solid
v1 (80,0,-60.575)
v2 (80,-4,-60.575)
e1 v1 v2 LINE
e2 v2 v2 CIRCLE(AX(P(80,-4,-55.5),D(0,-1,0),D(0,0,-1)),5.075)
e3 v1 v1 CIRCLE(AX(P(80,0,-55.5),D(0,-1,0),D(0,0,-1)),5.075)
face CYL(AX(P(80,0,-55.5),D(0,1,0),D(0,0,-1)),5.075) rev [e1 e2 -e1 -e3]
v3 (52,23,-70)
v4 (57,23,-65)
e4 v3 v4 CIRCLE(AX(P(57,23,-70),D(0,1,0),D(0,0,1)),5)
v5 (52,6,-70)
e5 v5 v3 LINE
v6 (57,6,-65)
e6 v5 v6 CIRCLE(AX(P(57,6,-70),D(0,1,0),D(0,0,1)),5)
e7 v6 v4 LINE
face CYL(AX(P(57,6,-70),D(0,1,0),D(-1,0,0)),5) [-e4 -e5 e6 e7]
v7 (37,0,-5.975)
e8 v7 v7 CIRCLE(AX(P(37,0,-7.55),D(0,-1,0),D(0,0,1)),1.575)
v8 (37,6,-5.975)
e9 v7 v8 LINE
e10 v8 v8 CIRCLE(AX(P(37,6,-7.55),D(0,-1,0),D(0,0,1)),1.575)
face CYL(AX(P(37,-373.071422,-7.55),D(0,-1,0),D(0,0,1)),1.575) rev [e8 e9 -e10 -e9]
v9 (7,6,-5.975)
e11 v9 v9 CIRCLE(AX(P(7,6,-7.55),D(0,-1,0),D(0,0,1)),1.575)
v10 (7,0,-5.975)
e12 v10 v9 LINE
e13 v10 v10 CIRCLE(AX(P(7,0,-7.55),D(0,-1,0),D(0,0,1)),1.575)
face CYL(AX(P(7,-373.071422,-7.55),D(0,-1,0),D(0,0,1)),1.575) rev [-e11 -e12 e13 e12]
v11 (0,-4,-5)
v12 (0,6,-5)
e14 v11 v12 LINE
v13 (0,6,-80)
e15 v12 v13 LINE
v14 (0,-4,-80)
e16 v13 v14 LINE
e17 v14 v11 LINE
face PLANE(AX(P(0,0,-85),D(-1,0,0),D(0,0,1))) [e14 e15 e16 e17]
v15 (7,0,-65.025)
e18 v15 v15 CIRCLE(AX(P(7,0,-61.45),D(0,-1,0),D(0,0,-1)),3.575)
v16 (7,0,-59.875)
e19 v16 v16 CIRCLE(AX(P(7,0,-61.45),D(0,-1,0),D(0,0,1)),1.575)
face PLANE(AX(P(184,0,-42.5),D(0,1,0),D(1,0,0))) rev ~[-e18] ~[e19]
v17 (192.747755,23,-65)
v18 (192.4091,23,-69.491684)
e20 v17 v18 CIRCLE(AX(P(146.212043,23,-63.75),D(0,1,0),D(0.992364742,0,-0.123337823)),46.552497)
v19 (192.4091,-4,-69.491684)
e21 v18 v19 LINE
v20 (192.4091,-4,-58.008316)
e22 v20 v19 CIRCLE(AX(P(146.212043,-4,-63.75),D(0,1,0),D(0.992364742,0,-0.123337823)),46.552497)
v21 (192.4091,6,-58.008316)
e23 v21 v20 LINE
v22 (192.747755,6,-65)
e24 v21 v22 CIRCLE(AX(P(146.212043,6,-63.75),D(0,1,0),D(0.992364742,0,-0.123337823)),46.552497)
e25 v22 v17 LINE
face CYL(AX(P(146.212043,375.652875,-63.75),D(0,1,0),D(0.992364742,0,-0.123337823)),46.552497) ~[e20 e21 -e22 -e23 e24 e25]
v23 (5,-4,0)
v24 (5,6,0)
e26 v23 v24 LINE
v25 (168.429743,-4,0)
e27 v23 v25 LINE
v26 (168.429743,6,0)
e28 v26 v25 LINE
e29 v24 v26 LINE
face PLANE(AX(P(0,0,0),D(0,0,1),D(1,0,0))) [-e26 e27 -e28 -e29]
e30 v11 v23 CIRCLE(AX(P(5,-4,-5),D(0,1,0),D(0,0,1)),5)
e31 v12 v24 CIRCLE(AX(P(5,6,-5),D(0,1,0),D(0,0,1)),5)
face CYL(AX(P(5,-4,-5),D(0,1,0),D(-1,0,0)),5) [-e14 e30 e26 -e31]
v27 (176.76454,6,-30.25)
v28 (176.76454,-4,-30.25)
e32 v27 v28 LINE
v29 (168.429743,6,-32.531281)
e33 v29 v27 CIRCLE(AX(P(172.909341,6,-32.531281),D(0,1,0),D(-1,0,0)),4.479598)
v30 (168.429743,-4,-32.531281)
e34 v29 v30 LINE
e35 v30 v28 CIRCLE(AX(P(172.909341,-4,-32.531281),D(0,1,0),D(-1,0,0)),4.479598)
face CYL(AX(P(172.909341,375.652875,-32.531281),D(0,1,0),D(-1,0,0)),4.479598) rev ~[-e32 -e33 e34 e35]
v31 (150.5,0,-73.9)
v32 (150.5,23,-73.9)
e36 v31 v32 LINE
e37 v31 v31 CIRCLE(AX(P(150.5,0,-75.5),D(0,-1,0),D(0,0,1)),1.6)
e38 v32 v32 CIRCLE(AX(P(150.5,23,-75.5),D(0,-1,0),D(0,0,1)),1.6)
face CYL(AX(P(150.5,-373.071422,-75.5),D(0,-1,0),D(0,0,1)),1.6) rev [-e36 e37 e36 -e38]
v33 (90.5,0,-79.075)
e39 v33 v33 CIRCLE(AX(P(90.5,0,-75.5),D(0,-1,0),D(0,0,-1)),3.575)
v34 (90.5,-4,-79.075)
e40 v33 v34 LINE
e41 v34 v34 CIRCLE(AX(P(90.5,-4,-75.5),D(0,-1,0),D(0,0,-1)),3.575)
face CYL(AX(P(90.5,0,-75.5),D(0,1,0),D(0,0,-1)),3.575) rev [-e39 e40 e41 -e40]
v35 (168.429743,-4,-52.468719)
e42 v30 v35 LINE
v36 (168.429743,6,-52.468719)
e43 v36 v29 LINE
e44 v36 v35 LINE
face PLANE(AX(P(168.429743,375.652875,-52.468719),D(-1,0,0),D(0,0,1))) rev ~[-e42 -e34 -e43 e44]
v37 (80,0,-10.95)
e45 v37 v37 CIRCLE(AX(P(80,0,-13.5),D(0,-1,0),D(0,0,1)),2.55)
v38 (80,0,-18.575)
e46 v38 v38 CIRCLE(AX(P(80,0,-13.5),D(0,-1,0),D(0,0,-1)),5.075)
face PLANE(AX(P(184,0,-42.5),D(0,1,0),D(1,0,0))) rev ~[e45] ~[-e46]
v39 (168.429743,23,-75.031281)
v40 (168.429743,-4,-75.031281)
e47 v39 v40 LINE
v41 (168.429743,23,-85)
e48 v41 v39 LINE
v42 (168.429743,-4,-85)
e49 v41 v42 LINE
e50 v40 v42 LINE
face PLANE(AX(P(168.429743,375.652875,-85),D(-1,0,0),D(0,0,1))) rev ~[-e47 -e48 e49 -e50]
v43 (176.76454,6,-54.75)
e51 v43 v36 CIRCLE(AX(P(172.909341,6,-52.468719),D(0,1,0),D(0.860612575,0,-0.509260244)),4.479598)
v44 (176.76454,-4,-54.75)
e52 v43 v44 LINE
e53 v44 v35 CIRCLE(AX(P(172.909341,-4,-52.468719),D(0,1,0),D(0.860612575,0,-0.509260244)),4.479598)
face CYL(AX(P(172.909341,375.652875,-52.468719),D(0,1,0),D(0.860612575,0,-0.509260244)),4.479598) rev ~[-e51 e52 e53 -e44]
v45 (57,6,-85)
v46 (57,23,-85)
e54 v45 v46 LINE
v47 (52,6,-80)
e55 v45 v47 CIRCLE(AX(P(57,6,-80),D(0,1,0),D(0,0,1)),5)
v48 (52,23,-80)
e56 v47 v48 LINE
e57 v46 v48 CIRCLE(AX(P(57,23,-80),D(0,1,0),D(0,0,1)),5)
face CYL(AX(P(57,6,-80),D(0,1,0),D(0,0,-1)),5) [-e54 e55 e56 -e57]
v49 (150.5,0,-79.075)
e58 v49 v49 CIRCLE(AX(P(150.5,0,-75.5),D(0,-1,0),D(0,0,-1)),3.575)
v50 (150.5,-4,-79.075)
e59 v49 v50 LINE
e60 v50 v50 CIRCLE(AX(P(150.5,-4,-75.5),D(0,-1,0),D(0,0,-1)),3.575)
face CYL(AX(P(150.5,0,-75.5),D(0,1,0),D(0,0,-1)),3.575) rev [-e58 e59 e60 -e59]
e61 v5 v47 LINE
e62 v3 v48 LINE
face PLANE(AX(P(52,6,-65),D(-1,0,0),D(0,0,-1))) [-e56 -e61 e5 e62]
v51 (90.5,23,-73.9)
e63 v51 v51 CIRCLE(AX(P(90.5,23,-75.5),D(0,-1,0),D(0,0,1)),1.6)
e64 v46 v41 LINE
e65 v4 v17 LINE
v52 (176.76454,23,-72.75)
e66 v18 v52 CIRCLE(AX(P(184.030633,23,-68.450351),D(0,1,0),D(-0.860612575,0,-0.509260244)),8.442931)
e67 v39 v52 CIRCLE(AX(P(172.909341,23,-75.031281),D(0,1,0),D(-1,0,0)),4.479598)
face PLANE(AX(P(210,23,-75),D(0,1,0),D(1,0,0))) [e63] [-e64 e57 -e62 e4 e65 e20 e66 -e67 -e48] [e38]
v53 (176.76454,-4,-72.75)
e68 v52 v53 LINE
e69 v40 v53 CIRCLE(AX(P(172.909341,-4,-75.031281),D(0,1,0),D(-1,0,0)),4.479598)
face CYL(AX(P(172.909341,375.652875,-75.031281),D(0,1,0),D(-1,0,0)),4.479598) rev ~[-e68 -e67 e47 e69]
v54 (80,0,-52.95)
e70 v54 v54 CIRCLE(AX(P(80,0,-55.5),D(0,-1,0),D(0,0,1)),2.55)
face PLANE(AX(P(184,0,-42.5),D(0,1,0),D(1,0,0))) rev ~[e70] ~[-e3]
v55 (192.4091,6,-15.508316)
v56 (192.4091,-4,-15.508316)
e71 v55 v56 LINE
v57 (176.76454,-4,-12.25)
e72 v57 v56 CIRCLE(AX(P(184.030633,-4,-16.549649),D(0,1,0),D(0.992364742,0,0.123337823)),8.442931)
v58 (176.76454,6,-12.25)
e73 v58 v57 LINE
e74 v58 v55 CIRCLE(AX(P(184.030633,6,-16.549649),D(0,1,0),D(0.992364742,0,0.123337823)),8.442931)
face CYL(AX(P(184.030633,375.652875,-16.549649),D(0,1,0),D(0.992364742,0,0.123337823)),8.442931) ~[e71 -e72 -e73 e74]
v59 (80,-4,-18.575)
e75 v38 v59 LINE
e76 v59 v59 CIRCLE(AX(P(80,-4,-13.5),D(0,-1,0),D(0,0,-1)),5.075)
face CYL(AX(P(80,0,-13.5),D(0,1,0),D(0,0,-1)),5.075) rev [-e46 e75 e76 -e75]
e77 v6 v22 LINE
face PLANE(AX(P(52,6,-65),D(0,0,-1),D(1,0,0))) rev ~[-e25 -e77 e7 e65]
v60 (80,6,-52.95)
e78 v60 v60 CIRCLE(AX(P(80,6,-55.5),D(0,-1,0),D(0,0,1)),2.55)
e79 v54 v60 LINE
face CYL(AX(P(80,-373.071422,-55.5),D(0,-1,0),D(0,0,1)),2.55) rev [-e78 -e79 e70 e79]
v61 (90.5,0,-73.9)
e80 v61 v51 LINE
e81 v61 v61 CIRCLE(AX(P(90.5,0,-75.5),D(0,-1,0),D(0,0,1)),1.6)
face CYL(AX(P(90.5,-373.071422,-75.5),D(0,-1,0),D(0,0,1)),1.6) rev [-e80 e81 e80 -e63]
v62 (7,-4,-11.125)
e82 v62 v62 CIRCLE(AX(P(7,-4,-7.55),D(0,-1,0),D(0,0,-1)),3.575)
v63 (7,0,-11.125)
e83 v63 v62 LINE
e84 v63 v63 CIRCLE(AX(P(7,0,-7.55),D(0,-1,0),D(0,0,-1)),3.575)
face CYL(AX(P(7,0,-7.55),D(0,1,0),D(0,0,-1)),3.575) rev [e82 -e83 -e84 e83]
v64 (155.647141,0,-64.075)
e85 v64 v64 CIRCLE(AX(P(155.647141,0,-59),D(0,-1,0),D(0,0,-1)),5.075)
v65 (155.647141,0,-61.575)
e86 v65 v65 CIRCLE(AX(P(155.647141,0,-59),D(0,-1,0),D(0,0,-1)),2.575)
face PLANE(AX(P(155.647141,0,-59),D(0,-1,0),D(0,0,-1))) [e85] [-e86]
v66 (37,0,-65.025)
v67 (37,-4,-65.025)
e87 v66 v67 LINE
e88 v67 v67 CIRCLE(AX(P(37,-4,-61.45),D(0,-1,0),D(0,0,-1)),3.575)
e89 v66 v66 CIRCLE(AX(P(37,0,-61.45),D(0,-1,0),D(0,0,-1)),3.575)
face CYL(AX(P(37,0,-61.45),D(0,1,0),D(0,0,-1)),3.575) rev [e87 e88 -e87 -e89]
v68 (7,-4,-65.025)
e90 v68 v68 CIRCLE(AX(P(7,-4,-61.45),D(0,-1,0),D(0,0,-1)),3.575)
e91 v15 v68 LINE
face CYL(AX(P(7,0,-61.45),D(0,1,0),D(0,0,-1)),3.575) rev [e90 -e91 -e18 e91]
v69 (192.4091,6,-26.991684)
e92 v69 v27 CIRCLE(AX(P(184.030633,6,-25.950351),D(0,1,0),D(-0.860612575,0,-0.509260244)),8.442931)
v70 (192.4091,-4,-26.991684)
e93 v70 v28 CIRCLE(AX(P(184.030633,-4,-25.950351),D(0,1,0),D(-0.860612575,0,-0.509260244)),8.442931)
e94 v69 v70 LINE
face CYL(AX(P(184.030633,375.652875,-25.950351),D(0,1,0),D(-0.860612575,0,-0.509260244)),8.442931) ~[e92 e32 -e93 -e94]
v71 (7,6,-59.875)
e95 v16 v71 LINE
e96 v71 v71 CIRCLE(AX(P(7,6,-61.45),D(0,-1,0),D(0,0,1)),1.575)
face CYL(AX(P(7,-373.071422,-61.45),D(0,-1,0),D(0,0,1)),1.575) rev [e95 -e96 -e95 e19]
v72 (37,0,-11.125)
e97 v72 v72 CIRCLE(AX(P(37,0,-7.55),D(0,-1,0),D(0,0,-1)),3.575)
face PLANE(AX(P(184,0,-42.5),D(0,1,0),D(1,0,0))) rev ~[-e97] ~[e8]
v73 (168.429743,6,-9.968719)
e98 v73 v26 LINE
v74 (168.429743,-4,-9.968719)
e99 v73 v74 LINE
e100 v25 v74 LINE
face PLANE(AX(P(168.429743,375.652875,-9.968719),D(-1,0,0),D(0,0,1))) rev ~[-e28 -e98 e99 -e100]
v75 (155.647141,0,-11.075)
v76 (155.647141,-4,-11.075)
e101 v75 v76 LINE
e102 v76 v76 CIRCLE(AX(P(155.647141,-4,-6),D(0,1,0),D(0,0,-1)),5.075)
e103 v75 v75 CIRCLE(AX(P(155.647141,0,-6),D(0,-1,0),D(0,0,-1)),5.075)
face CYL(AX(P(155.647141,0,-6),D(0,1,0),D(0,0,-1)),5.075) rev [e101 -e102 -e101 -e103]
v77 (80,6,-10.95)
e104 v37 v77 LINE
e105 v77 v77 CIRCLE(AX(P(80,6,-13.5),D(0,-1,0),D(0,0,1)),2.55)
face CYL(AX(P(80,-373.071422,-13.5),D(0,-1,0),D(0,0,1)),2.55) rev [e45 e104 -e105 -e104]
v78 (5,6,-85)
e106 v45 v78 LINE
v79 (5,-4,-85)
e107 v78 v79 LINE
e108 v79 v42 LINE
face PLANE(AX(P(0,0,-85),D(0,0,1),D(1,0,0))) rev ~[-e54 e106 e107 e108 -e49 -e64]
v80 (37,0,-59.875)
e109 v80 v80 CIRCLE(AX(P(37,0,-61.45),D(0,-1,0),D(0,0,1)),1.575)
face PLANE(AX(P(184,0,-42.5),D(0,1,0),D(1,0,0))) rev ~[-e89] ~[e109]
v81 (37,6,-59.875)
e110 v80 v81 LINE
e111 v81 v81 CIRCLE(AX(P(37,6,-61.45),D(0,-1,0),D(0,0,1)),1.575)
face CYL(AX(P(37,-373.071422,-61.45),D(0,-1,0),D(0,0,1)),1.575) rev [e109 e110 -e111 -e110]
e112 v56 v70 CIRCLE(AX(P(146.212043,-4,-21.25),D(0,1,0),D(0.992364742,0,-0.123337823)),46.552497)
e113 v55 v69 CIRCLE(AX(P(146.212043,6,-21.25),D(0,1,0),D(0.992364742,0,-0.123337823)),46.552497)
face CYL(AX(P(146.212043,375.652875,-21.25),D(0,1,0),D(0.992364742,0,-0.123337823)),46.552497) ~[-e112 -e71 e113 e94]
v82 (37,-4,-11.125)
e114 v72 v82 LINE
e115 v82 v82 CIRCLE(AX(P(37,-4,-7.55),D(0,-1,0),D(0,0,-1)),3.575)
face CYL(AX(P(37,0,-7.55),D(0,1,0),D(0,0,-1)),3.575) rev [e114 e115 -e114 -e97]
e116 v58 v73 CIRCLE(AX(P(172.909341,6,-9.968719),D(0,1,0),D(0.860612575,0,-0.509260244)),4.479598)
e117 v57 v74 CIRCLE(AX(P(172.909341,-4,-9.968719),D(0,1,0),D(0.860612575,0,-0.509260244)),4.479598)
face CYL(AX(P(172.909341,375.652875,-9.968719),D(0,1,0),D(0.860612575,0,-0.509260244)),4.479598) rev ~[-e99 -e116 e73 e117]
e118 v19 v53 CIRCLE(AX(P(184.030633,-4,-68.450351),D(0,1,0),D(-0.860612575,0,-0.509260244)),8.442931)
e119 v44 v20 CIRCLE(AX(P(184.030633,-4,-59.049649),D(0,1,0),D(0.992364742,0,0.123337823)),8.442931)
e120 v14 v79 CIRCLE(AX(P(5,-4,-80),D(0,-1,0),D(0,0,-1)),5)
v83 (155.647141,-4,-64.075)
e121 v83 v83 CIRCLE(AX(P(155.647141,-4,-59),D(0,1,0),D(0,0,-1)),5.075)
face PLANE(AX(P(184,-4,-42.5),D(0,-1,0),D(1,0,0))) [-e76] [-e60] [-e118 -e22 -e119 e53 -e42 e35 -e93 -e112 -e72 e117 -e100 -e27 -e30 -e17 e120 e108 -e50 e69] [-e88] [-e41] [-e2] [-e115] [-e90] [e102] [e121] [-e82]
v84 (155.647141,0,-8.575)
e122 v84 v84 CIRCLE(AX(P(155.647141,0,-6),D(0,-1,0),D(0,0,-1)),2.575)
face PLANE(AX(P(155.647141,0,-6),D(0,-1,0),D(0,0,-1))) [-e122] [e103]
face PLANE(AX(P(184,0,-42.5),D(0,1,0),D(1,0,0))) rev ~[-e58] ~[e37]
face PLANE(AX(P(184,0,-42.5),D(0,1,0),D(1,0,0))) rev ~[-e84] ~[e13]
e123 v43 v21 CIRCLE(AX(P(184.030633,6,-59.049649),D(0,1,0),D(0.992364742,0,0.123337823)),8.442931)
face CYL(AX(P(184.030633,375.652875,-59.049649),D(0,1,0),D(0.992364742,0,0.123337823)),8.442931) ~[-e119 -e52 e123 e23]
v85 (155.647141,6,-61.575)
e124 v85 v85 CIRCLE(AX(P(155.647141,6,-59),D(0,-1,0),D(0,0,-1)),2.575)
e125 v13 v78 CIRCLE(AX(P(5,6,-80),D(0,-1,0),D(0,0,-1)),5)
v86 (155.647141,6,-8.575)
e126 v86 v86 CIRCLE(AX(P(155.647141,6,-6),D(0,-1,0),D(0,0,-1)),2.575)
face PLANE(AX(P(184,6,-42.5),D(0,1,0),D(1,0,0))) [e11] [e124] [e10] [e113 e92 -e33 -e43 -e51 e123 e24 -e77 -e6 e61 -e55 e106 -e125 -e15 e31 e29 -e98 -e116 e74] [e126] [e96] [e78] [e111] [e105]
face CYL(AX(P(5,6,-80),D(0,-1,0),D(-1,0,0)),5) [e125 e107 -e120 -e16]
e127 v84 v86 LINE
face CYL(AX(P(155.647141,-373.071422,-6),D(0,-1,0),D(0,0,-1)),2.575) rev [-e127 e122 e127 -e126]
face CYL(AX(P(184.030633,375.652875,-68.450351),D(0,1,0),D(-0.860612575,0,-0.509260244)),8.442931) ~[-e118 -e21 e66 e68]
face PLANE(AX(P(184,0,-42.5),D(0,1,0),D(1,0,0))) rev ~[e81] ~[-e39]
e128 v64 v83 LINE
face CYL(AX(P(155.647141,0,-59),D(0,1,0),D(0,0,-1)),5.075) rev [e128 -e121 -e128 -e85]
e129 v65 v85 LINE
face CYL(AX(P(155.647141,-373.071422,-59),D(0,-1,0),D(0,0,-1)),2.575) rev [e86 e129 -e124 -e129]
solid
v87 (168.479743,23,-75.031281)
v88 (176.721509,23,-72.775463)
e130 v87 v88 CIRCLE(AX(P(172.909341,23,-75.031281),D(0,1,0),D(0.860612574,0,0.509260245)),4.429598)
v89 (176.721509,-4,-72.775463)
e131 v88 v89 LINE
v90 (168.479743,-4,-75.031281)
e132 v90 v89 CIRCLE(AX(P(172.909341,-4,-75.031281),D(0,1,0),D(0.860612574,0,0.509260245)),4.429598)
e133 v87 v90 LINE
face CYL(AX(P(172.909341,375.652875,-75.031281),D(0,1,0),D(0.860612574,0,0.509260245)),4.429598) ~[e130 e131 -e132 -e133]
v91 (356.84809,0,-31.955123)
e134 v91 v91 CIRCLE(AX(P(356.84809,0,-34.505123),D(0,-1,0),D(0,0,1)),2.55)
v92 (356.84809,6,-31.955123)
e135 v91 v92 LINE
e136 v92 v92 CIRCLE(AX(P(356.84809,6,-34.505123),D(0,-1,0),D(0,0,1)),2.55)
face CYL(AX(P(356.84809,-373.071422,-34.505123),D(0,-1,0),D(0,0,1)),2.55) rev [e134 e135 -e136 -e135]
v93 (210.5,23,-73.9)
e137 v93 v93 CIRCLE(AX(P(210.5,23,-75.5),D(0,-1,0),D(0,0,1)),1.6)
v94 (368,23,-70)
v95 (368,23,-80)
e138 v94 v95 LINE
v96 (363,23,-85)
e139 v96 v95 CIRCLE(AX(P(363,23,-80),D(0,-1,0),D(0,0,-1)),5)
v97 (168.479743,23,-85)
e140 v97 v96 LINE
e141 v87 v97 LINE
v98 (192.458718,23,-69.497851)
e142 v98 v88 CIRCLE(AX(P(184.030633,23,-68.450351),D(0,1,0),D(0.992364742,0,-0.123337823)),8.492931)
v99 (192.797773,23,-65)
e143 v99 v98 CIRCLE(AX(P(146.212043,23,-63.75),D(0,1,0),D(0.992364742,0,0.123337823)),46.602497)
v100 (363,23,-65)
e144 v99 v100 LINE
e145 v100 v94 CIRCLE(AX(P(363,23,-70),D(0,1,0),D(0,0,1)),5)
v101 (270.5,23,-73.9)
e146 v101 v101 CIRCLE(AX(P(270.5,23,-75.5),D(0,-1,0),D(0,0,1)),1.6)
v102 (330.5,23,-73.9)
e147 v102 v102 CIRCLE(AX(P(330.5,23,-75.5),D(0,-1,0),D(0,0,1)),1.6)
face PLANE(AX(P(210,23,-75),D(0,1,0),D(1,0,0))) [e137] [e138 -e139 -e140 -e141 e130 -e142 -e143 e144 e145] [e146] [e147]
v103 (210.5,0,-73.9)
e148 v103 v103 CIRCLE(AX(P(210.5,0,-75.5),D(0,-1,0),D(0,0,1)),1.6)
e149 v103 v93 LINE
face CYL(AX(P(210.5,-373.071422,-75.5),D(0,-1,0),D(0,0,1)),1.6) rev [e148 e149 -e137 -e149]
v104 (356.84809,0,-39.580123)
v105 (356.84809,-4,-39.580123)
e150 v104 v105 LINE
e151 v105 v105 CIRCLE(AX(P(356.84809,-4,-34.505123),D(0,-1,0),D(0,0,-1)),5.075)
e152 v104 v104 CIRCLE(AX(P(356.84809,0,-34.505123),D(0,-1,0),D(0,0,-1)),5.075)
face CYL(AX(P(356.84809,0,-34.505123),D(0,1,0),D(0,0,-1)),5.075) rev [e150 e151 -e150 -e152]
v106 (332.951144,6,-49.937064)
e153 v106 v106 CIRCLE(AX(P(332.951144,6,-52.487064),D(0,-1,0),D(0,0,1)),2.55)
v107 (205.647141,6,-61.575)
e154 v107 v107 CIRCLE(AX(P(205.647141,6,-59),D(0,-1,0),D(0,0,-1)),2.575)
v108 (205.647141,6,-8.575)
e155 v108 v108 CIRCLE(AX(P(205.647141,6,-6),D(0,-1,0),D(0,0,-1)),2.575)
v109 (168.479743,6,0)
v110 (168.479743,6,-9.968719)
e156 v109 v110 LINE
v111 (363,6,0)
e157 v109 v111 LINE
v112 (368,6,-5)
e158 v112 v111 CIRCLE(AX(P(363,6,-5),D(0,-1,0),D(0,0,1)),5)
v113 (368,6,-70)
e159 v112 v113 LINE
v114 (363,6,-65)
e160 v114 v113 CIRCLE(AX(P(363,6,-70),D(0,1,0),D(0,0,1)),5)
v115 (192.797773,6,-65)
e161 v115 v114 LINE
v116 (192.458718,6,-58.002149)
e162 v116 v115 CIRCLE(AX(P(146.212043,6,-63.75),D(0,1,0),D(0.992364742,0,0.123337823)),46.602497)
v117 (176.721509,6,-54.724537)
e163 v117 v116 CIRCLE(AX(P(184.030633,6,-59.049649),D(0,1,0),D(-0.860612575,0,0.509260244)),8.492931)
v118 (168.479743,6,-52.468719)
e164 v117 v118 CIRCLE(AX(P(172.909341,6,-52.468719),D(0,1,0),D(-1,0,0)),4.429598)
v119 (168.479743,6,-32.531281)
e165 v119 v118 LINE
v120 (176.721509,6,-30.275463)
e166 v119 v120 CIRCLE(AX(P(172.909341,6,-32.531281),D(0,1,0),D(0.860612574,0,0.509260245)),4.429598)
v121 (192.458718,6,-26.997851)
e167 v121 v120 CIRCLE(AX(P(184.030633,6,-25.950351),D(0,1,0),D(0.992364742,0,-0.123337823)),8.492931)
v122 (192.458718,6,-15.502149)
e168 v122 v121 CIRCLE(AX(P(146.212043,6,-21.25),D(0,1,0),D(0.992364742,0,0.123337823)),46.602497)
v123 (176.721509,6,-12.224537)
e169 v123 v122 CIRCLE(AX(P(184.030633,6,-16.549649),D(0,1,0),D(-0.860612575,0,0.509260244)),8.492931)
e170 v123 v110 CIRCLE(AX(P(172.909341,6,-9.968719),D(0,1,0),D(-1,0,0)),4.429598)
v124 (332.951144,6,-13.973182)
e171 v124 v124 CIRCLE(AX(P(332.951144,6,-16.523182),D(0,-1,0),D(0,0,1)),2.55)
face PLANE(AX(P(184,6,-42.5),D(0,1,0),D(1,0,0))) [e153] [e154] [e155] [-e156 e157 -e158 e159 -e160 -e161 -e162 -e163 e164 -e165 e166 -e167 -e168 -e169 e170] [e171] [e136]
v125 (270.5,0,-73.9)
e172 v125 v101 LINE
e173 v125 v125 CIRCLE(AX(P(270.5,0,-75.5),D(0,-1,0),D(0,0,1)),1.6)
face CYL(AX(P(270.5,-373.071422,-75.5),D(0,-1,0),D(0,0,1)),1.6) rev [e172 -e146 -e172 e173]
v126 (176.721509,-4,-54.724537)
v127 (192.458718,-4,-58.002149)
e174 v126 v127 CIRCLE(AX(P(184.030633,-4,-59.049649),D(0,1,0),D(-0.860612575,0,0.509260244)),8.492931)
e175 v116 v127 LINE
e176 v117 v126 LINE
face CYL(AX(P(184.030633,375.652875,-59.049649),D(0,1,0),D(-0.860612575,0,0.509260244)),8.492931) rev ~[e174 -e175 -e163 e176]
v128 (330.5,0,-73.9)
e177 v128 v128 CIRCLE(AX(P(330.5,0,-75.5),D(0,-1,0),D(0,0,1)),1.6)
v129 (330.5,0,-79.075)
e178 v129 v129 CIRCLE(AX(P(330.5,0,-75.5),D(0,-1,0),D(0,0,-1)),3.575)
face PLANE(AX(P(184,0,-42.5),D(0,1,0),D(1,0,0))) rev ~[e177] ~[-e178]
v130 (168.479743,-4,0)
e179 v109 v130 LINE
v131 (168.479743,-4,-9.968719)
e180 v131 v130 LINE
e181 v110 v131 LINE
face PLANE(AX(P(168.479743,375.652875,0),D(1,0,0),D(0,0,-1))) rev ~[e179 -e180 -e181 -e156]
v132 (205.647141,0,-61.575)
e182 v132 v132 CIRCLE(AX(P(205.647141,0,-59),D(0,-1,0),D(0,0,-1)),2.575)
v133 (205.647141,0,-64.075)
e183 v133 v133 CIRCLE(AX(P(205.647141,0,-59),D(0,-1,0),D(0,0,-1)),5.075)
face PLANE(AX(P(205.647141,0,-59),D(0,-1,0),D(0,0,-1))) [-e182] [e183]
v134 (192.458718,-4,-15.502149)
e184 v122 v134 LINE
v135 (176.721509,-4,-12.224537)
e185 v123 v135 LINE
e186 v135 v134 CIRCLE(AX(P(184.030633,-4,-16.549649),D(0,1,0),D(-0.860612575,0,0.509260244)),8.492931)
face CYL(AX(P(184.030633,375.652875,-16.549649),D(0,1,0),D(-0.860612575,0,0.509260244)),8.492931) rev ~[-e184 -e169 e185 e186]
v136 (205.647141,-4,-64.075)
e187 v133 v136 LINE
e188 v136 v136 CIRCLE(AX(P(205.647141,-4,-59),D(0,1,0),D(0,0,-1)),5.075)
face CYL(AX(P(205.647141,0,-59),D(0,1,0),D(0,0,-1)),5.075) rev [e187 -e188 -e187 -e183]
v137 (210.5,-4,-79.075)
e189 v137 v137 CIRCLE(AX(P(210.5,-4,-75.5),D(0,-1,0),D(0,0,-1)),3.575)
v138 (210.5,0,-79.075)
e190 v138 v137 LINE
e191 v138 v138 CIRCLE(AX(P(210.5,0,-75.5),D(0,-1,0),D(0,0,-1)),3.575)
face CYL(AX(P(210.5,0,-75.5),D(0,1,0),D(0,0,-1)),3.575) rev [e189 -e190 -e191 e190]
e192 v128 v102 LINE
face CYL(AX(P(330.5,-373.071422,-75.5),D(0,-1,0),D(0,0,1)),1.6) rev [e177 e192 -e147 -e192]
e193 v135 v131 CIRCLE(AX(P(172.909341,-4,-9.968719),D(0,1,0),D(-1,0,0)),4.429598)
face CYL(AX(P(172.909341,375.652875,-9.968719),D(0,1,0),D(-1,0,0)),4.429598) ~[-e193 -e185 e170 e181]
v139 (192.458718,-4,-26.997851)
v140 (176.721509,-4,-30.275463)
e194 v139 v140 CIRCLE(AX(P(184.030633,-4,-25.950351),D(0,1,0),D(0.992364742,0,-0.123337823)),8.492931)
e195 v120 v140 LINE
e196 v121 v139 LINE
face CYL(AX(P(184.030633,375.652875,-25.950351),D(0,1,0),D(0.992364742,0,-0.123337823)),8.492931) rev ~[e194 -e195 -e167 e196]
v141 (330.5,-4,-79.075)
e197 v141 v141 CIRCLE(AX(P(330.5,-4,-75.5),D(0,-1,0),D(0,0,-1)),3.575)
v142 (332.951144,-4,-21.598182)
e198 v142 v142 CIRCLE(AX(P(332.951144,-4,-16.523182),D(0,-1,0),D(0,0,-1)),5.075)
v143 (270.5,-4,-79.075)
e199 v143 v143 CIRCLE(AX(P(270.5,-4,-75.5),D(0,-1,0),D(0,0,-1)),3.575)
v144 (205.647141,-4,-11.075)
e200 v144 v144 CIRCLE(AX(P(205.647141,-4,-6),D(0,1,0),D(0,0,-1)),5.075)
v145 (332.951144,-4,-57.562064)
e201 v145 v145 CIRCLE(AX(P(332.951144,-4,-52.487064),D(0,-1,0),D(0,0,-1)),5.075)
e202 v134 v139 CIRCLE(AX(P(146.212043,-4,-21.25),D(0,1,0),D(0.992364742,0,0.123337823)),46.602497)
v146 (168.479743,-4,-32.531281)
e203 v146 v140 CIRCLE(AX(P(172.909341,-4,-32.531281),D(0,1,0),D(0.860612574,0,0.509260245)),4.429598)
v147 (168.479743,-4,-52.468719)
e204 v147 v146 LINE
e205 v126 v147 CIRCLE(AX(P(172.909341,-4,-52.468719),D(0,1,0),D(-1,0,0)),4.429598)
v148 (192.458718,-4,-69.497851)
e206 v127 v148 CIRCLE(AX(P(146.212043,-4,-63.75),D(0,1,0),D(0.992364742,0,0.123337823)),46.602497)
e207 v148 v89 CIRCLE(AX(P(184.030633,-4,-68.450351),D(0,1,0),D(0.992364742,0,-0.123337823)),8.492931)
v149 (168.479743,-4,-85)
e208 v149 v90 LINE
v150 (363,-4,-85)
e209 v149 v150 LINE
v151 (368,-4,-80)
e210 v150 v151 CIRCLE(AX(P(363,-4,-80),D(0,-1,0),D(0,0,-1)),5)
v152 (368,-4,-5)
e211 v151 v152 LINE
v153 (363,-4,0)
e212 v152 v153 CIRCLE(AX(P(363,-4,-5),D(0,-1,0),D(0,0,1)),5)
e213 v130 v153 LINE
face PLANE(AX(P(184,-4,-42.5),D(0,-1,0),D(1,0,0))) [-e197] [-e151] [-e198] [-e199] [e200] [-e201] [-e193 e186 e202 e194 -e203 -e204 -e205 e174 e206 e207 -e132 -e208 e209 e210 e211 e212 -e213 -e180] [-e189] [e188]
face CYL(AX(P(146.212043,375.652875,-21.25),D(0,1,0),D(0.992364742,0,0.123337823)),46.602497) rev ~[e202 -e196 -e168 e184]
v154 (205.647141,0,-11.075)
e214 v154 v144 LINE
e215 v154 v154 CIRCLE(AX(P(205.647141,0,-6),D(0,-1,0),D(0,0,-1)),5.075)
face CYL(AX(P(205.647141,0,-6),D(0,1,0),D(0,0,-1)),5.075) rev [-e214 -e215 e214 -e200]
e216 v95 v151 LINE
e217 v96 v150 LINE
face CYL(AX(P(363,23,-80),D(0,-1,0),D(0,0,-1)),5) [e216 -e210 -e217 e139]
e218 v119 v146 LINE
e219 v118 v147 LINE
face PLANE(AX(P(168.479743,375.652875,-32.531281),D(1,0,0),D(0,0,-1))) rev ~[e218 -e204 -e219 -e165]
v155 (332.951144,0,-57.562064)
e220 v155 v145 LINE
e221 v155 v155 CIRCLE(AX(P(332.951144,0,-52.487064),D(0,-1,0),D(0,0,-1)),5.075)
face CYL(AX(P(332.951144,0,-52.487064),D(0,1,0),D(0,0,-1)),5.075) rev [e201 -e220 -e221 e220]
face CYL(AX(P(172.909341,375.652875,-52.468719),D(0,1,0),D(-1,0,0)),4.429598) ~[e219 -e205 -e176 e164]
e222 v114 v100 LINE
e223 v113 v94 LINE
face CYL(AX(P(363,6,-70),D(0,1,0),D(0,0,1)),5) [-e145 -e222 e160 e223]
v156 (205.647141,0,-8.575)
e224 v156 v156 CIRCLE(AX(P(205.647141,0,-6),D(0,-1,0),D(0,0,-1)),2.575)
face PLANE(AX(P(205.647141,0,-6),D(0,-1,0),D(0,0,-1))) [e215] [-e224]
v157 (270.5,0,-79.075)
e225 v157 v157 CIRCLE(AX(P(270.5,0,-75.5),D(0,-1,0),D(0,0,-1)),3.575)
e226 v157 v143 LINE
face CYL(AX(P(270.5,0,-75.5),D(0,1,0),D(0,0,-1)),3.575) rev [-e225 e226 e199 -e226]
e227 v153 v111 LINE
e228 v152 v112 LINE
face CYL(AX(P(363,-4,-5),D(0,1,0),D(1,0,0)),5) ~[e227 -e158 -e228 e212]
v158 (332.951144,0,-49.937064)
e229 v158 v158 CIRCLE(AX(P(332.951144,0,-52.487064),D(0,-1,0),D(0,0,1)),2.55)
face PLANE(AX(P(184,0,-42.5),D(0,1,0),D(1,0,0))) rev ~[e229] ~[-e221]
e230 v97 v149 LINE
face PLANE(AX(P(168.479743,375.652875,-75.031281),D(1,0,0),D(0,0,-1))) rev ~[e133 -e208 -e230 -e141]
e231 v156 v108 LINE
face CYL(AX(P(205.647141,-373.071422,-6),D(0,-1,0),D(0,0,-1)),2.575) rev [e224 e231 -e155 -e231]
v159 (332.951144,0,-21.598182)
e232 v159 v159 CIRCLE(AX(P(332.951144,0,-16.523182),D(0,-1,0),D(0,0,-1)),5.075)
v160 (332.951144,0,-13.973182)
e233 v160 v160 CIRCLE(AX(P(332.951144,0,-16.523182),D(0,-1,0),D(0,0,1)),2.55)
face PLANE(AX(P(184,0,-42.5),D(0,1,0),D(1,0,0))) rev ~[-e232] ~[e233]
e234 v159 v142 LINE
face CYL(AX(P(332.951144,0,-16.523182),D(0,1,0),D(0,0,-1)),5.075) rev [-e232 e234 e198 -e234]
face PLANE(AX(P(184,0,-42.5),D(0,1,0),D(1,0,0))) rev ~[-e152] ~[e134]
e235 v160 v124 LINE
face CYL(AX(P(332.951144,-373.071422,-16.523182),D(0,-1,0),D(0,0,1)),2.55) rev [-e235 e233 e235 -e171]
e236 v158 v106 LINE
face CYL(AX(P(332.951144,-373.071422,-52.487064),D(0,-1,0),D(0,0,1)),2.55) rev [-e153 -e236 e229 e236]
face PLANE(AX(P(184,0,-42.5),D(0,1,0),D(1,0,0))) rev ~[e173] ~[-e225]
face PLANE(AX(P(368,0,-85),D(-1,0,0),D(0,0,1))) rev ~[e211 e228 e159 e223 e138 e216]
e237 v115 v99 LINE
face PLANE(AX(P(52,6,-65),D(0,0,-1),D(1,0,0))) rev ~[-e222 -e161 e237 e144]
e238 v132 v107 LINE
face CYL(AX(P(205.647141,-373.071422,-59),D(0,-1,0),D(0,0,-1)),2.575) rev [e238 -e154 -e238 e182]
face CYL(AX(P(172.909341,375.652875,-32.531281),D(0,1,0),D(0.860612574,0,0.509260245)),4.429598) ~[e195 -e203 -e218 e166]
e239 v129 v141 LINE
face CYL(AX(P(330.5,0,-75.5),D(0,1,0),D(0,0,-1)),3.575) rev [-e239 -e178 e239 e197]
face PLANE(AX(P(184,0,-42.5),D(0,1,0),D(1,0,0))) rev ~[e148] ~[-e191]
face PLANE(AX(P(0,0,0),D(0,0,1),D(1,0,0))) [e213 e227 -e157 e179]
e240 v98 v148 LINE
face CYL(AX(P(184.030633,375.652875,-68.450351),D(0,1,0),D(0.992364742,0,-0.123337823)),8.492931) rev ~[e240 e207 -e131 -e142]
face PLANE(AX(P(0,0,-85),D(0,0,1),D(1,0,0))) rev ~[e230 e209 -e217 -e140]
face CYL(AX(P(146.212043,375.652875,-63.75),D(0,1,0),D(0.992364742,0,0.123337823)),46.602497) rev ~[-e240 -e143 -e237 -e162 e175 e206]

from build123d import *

# Parameters (mm, degrees)
SKETCH1_W                                    = 368
SKETCH1_H                                    = 85
BOSS_EXTRUDE1_DEPTH                          = 6
SKETCH2_W                                    = 316
SKETCH2_H                                    = 20
BOSS_EXTRUDE3_DEPTH                          = 17
CUT_EXTRUDE1_DEPTH                           = 379.071421824
CUT_EXTRUDE1_DEPTH_BACK                      = 379.071421824
SKETCH3_R                                    = 1.575
SKETCH3_R_2                                  = 2.55
SKETCH3_R_3                                  = 1.6
SKETCH4_W                                    = 368
SKETCH4_H                                    = 85
SKETCH4_R                                    = 3.575
SKETCH4_R_2                                  = 5.075
BOSS_EXTRUDE4_DEPTH                          = 4
FILLET1_R                                    = 5
WEIRD_CUT_DEPTH                              = 379.652875336
WEIRD_CUT_DEPTH_BACK                         = 379.652875336
IF_YOU_NO_STAY_I_MAKE_U_STAI_BREH_DEPTH      = 379.071421824
IF_YOU_NO_STAY_I_MAKE_U_STAI_BREH_DEPTH_BACK = 379.071421824
SKETCH8_R                                    = 2.575
YUH_DEPTH                                    = 379.652875336
YUH_DEPTH_BACK                               = 4
SKETCH9_R                                    = 5.075


with BuildPart() as part:
    # Sketch1 → Boss-Extrude1 (new body)
    with BuildSketch(Plane(origin=(0, 0, 0), x_dir=(1, 0, 0), z_dir=(0, 1, 0))):
        with Locations((184, 42.5)):
            Rectangle(SKETCH1_W, SKETCH1_H)
    extrude(amount=BOSS_EXTRUDE1_DEPTH)

    # Sketch2 → Boss-Extrude3 (add)
    with BuildSketch(Plane(origin=(0, 6, 0), x_dir=(1, 0, 0), z_dir=(0, 1, 0))):
        with Locations((210, 75)):
            Rectangle(SKETCH2_W, SKETCH2_H)
    extrude(amount=BOSS_EXTRUDE3_DEPTH)

    # Sketch3 → Cut-Extrude1 (cut, two sides: drawn at the far end of the back side and taken through both)
    with BuildSketch(Plane(origin=(0, 6, 0), x_dir=(1, 0, 0), z_dir=(0, 1, 0)).offset(-CUT_EXTRUDE1_DEPTH_BACK)):
        with Locations(Location((7, 61.45, 0), (0, 0, 270))):
            Circle(SKETCH3_R)
        with Locations(Location((7, 7.55, 0), (0, 0, 270))):
            Circle(SKETCH3_R)
        with Locations(Location((37, 7.55, 0), (0, 0, 270))):
            Circle(SKETCH3_R)
        with Locations(Location((37, 61.45, 0), (0, 0, 270))):
            Circle(SKETCH3_R)
        with Locations(Location((80, 55.5, 0), (0, 0, 270))):
            Circle(SKETCH3_R_2)
        with Locations(Location((80, 13.5, 0), (0, 0, 270))):
            Circle(SKETCH3_R_2)
        with Locations(Location((332.951144342, 52.487064273, 0), (0, 0, 270))):
            Circle(SKETCH3_R_2)
        with Locations(Location((356.848090273, 34.505122955, 0), (0, 0, 270))):
            Circle(SKETCH3_R_2)
        with Locations(Location((332.951144342, 16.523181637, 0), (0, 0, 270))):
            Circle(SKETCH3_R_2)
        with Locations(Location((90.5, 75.5, 0), (0, 0, 270))):
            Circle(SKETCH3_R_3)
        with Locations(Location((150.5, 75.5, 0), (0, 0, 270))):
            Circle(SKETCH3_R_3)
        with Locations(Location((210.5, 75.5, 0), (0, 0, 270))):
            Circle(SKETCH3_R_3)
        with Locations(Location((270.5, 75.5, 0), (0, 0, 270))):
            Circle(SKETCH3_R_3)
        with Locations(Location((330.5, 75.5, 0), (0, 0, 270))):
            Circle(SKETCH3_R_3)
    extrude(amount=CUT_EXTRUDE1_DEPTH + CUT_EXTRUDE1_DEPTH_BACK, mode=Mode.SUBTRACT)

    # Sketch4 → Boss-Extrude4 (add)
    with BuildSketch(Plane.XZ):
        with Locations((184, -42.5)):
            Rectangle(SKETCH4_W, SKETCH4_H)
        with Locations(Location((7, -7.55, 0), (0, 0, 270))):
            Circle(SKETCH4_R, mode=Mode.SUBTRACT)
        with Locations(Location((37, -7.55, 0), (0, 0, 270))):
            Circle(SKETCH4_R, mode=Mode.SUBTRACT)
        with Locations(Location((80, -13.5, 0), (0, 0, 270))):
            Circle(SKETCH4_R_2, mode=Mode.SUBTRACT)
        with Locations(Location((80, -55.5, 0), (0, 0, 270))):
            Circle(SKETCH4_R_2, mode=Mode.SUBTRACT)
        with Locations(Location((37, -61.45, 0), (0, 0, 270))):
            Circle(SKETCH4_R, mode=Mode.SUBTRACT)
        with Locations(Location((7, -61.45, 0), (0, 0, 270))):
            Circle(SKETCH4_R, mode=Mode.SUBTRACT)
        with Locations(Location((90.5, -75.5, 0), (0, 0, 270))):
            Circle(SKETCH4_R, mode=Mode.SUBTRACT)
        with Locations(Location((150.5, -75.5, 0), (0, 0, 270))):
            Circle(SKETCH4_R, mode=Mode.SUBTRACT)
        with Locations(Location((210.5, -75.5, 0), (0, 0, 270))):
            Circle(SKETCH4_R, mode=Mode.SUBTRACT)
        with Locations(Location((270.5, -75.5, 0), (0, 0, 270))):
            Circle(SKETCH4_R, mode=Mode.SUBTRACT)
        with Locations(Location((330.5, -75.5, 0), (0, 0, 270))):
            Circle(SKETCH4_R, mode=Mode.SUBTRACT)
        with Locations(Location((332.951144342, -52.487064273, 0), (0, 0, 270))):
            Circle(SKETCH4_R_2, mode=Mode.SUBTRACT)
        with Locations(Location((356.848090273, -34.505122955, 0), (0, 0, 270))):
            Circle(SKETCH4_R_2, mode=Mode.SUBTRACT)
        with Locations(Location((332.951144342, -16.523181637, 0), (0, 0, 270))):
            Circle(SKETCH4_R_2, mode=Mode.SUBTRACT)
    extrude(amount=BOSS_EXTRUDE4_DEPTH)

    # Fillet1
    fillet1_edges = [part.edges().sort_by_distance(p)[0] for p in [
        (52, 14.5, -85),
        (52, 14.5, -65),
        (368, 14.5, -65),
        (0, 1, -85),
        (368, 9.5, -85),
        (368, 1, 0),
        (0, 1, 0),
    ]]
    fillet(fillet1_edges, radius=FILLET1_R)

    # Sketch7 → Weird Cut (cut, two sides: drawn at the far end of the back side and taken through both)
    with BuildSketch(Plane.XZ.offset(4).offset(-WEIRD_CUT_DEPTH_BACK)):
        with BuildLine():
            Line((168.429742835, -9.968718608), (168.429742835, 0))
            Line((168.429742835, 0), (168.479742835, 0))
            Line((168.479742835, 0), (168.479742835, -9.968718608))
            ThreePointArc((168.479742835, -9.968718608), (171.739946469, -14.241172009), (176.721509375, -12.224536988))
            ThreePointArc((176.721509375, -12.224536988), (185.762309536, -8.235133349), (192.458717923, -15.502149495))
            ThreePointArc((192.458717923, -15.502149495), (192.814540004, -21.25), (192.458717923, -26.997850505))
            ThreePointArc((192.458717923, -26.997850505), (185.762309536, -34.264866651), (176.721509375, -30.275463012))
            ThreePointArc((176.721509375, -30.275463012), (171.739946469, -28.258827991), (168.479742835, -32.531281392))
            Line((168.479742835, -32.531281392), (168.479742835, -52.468718608))
            ThreePointArc((168.479742835, -52.468718608), (171.739946469, -56.741172009), (176.721509375, -54.724536988))
            ThreePointArc((176.721509375, -54.724536988), (185.762309536, -50.735133349), (192.458717923, -58.002149495))
            ThreePointArc((192.458717923, -58.002149495), (192.814540004, -63.75), (192.458717923, -69.497850505))
            ThreePointArc((192.458717923, -69.497850505), (185.762309536, -76.764866651), (176.721509375, -72.775463012))
            ThreePointArc((176.721509375, -72.775463012), (171.739946469, -70.758827991), (168.479742835, -75.031281392))
            Line((168.479742835, -75.031281392), (168.479742835, -85))
            Line((168.479742835, -85), (168.429742835, -85))
            Line((168.429742835, -85), (168.429742835, -75.031281392))
            ThreePointArc((168.429742835, -75.031281392), (171.726746686, -70.710601797), (176.764540004, -72.75))
            ThreePointArc((176.764540004, -72.75), (185.752114723, -76.715917026), (192.409099686, -69.491683614))
            ThreePointArc((192.409099686, -69.491683614), (192.764540004, -63.75), (192.409099686, -58.008316386))
            ThreePointArc((192.409099686, -58.008316386), (185.752114723, -50.784082974), (176.764540004, -54.75))
            ThreePointArc((176.764540004, -54.75), (171.726746686, -56.789398203), (168.429742835, -52.468718608))
            Line((168.429742835, -52.468718608), (168.429742835, -32.531281392))
            ThreePointArc((168.429742835, -32.531281392), (171.726746686, -28.210601797), (176.764540004, -30.25))
            ThreePointArc((176.764540004, -30.25), (185.752114723, -34.215917026), (192.409099686, -26.991683614))
            ThreePointArc((192.409099686, -26.991683614), (192.764540004, -21.25), (192.409099686, -15.508316386))
            ThreePointArc((192.409099686, -15.508316386), (185.752114723, -8.284082974), (176.764540004, -12.25))
            ThreePointArc((176.764540004, -12.25), (171.726746686, -14.289398203), (168.429742835, -9.968718608))
        make_face()
    extrude(amount=WEIRD_CUT_DEPTH + WEIRD_CUT_DEPTH_BACK, mode=Mode.SUBTRACT)


with BuildPart() as weird_cut_piece_1:
    # of the separate pieces the step leaves, piece 1, a body of its own (weird_cut_pieces)
    add(part.part.solids().sort_by_distance((168.479742835, -4, 0))[0])


with BuildPart() as weird_cut_piece_2:
    # of the separate pieces the step leaves, piece 2, a body of its own (weird_cut_pieces)
    add(part.part.solids().sort_by_distance((5, 6, 0))[0])


with BuildPart() as if_you_no_stay_i_make_u_stai_breh_tool:
    # Sketch8 → If you no stay i make u stai breh (new, two sides: drawn at the far end of the back side and taken through both)
    with BuildSketch(Plane(origin=(0, 6, 0), x_dir=(1, 0, 0), z_dir=(0, 1, 0)).offset(-IF_YOU_NO_STAY_I_MAKE_U_STAI_BREH_DEPTH_BACK)):
        with Locations(Location((205.64714142, 59, 0), (0, 0, 90))):
            Circle(SKETCH8_R)
        with Locations(Location((155.64714142, 59, 0), (0, 0, 90))):
            Circle(SKETCH8_R)
        with Locations(Location((205.64714142, 6, 0), (0, 0, 90))):
            Circle(SKETCH8_R)
        with Locations(Location((155.64714142, 6, 0), (0, 0, 90))):
            Circle(SKETCH8_R)
    extrude(amount=IF_YOU_NO_STAY_I_MAKE_U_STAI_BREH_DEPTH + IF_YOU_NO_STAY_I_MAKE_U_STAI_BREH_DEPTH_BACK)


with BuildPart() as weird_cut_piece_1_1:
    add(weird_cut_piece_1.part)

    # If you no stay i make u stai breh: cut by if_you_no_stay_i_make_u_stai_breh_tool
    add(if_you_no_stay_i_make_u_stai_breh_tool.part, mode=Mode.SUBTRACT)


with BuildPart() as weird_cut_piece_2_1:
    add(weird_cut_piece_2.part)

    # If you no stay i make u stai breh: cut by if_you_no_stay_i_make_u_stai_breh_tool
    add(if_you_no_stay_i_make_u_stai_breh_tool.part, mode=Mode.SUBTRACT)


with BuildPart() as yuh_tool:
    # Sketch9 → yuh (new, two sides: drawn at the far end of the back side and taken through both)
    with BuildSketch(Plane.XZ.offset(4).offset(-YUH_DEPTH_BACK)):
        with Locations(Location((155.64714142, -6, 0), (0, 0, 270))):
            Circle(SKETCH9_R)
        with Locations(Location((205.64714142, -6, 0), (0, 0, 270))):
            Circle(SKETCH9_R)
        with Locations(Location((205.64714142, -59, 0), (0, 0, 270))):
            Circle(SKETCH9_R)
        with Locations(Location((155.64714142, -59, 0), (0, 0, 270))):
            Circle(SKETCH9_R)
    extrude(amount=YUH_DEPTH + YUH_DEPTH_BACK)


with BuildPart() as weird_cut_piece_1_2:
    add(weird_cut_piece_1_1.part)

    # yuh: cut by yuh_tool
    add(yuh_tool.part, mode=Mode.SUBTRACT)


with BuildPart() as weird_cut_piece_2_2:
    add(weird_cut_piece_2_1.part)

    # yuh: cut by yuh_tool
    add(yuh_tool.part, mode=Mode.SUBTRACT)


solid = Compound([weird_cut_piece_1_2.part, weird_cut_piece_2_2.part])
